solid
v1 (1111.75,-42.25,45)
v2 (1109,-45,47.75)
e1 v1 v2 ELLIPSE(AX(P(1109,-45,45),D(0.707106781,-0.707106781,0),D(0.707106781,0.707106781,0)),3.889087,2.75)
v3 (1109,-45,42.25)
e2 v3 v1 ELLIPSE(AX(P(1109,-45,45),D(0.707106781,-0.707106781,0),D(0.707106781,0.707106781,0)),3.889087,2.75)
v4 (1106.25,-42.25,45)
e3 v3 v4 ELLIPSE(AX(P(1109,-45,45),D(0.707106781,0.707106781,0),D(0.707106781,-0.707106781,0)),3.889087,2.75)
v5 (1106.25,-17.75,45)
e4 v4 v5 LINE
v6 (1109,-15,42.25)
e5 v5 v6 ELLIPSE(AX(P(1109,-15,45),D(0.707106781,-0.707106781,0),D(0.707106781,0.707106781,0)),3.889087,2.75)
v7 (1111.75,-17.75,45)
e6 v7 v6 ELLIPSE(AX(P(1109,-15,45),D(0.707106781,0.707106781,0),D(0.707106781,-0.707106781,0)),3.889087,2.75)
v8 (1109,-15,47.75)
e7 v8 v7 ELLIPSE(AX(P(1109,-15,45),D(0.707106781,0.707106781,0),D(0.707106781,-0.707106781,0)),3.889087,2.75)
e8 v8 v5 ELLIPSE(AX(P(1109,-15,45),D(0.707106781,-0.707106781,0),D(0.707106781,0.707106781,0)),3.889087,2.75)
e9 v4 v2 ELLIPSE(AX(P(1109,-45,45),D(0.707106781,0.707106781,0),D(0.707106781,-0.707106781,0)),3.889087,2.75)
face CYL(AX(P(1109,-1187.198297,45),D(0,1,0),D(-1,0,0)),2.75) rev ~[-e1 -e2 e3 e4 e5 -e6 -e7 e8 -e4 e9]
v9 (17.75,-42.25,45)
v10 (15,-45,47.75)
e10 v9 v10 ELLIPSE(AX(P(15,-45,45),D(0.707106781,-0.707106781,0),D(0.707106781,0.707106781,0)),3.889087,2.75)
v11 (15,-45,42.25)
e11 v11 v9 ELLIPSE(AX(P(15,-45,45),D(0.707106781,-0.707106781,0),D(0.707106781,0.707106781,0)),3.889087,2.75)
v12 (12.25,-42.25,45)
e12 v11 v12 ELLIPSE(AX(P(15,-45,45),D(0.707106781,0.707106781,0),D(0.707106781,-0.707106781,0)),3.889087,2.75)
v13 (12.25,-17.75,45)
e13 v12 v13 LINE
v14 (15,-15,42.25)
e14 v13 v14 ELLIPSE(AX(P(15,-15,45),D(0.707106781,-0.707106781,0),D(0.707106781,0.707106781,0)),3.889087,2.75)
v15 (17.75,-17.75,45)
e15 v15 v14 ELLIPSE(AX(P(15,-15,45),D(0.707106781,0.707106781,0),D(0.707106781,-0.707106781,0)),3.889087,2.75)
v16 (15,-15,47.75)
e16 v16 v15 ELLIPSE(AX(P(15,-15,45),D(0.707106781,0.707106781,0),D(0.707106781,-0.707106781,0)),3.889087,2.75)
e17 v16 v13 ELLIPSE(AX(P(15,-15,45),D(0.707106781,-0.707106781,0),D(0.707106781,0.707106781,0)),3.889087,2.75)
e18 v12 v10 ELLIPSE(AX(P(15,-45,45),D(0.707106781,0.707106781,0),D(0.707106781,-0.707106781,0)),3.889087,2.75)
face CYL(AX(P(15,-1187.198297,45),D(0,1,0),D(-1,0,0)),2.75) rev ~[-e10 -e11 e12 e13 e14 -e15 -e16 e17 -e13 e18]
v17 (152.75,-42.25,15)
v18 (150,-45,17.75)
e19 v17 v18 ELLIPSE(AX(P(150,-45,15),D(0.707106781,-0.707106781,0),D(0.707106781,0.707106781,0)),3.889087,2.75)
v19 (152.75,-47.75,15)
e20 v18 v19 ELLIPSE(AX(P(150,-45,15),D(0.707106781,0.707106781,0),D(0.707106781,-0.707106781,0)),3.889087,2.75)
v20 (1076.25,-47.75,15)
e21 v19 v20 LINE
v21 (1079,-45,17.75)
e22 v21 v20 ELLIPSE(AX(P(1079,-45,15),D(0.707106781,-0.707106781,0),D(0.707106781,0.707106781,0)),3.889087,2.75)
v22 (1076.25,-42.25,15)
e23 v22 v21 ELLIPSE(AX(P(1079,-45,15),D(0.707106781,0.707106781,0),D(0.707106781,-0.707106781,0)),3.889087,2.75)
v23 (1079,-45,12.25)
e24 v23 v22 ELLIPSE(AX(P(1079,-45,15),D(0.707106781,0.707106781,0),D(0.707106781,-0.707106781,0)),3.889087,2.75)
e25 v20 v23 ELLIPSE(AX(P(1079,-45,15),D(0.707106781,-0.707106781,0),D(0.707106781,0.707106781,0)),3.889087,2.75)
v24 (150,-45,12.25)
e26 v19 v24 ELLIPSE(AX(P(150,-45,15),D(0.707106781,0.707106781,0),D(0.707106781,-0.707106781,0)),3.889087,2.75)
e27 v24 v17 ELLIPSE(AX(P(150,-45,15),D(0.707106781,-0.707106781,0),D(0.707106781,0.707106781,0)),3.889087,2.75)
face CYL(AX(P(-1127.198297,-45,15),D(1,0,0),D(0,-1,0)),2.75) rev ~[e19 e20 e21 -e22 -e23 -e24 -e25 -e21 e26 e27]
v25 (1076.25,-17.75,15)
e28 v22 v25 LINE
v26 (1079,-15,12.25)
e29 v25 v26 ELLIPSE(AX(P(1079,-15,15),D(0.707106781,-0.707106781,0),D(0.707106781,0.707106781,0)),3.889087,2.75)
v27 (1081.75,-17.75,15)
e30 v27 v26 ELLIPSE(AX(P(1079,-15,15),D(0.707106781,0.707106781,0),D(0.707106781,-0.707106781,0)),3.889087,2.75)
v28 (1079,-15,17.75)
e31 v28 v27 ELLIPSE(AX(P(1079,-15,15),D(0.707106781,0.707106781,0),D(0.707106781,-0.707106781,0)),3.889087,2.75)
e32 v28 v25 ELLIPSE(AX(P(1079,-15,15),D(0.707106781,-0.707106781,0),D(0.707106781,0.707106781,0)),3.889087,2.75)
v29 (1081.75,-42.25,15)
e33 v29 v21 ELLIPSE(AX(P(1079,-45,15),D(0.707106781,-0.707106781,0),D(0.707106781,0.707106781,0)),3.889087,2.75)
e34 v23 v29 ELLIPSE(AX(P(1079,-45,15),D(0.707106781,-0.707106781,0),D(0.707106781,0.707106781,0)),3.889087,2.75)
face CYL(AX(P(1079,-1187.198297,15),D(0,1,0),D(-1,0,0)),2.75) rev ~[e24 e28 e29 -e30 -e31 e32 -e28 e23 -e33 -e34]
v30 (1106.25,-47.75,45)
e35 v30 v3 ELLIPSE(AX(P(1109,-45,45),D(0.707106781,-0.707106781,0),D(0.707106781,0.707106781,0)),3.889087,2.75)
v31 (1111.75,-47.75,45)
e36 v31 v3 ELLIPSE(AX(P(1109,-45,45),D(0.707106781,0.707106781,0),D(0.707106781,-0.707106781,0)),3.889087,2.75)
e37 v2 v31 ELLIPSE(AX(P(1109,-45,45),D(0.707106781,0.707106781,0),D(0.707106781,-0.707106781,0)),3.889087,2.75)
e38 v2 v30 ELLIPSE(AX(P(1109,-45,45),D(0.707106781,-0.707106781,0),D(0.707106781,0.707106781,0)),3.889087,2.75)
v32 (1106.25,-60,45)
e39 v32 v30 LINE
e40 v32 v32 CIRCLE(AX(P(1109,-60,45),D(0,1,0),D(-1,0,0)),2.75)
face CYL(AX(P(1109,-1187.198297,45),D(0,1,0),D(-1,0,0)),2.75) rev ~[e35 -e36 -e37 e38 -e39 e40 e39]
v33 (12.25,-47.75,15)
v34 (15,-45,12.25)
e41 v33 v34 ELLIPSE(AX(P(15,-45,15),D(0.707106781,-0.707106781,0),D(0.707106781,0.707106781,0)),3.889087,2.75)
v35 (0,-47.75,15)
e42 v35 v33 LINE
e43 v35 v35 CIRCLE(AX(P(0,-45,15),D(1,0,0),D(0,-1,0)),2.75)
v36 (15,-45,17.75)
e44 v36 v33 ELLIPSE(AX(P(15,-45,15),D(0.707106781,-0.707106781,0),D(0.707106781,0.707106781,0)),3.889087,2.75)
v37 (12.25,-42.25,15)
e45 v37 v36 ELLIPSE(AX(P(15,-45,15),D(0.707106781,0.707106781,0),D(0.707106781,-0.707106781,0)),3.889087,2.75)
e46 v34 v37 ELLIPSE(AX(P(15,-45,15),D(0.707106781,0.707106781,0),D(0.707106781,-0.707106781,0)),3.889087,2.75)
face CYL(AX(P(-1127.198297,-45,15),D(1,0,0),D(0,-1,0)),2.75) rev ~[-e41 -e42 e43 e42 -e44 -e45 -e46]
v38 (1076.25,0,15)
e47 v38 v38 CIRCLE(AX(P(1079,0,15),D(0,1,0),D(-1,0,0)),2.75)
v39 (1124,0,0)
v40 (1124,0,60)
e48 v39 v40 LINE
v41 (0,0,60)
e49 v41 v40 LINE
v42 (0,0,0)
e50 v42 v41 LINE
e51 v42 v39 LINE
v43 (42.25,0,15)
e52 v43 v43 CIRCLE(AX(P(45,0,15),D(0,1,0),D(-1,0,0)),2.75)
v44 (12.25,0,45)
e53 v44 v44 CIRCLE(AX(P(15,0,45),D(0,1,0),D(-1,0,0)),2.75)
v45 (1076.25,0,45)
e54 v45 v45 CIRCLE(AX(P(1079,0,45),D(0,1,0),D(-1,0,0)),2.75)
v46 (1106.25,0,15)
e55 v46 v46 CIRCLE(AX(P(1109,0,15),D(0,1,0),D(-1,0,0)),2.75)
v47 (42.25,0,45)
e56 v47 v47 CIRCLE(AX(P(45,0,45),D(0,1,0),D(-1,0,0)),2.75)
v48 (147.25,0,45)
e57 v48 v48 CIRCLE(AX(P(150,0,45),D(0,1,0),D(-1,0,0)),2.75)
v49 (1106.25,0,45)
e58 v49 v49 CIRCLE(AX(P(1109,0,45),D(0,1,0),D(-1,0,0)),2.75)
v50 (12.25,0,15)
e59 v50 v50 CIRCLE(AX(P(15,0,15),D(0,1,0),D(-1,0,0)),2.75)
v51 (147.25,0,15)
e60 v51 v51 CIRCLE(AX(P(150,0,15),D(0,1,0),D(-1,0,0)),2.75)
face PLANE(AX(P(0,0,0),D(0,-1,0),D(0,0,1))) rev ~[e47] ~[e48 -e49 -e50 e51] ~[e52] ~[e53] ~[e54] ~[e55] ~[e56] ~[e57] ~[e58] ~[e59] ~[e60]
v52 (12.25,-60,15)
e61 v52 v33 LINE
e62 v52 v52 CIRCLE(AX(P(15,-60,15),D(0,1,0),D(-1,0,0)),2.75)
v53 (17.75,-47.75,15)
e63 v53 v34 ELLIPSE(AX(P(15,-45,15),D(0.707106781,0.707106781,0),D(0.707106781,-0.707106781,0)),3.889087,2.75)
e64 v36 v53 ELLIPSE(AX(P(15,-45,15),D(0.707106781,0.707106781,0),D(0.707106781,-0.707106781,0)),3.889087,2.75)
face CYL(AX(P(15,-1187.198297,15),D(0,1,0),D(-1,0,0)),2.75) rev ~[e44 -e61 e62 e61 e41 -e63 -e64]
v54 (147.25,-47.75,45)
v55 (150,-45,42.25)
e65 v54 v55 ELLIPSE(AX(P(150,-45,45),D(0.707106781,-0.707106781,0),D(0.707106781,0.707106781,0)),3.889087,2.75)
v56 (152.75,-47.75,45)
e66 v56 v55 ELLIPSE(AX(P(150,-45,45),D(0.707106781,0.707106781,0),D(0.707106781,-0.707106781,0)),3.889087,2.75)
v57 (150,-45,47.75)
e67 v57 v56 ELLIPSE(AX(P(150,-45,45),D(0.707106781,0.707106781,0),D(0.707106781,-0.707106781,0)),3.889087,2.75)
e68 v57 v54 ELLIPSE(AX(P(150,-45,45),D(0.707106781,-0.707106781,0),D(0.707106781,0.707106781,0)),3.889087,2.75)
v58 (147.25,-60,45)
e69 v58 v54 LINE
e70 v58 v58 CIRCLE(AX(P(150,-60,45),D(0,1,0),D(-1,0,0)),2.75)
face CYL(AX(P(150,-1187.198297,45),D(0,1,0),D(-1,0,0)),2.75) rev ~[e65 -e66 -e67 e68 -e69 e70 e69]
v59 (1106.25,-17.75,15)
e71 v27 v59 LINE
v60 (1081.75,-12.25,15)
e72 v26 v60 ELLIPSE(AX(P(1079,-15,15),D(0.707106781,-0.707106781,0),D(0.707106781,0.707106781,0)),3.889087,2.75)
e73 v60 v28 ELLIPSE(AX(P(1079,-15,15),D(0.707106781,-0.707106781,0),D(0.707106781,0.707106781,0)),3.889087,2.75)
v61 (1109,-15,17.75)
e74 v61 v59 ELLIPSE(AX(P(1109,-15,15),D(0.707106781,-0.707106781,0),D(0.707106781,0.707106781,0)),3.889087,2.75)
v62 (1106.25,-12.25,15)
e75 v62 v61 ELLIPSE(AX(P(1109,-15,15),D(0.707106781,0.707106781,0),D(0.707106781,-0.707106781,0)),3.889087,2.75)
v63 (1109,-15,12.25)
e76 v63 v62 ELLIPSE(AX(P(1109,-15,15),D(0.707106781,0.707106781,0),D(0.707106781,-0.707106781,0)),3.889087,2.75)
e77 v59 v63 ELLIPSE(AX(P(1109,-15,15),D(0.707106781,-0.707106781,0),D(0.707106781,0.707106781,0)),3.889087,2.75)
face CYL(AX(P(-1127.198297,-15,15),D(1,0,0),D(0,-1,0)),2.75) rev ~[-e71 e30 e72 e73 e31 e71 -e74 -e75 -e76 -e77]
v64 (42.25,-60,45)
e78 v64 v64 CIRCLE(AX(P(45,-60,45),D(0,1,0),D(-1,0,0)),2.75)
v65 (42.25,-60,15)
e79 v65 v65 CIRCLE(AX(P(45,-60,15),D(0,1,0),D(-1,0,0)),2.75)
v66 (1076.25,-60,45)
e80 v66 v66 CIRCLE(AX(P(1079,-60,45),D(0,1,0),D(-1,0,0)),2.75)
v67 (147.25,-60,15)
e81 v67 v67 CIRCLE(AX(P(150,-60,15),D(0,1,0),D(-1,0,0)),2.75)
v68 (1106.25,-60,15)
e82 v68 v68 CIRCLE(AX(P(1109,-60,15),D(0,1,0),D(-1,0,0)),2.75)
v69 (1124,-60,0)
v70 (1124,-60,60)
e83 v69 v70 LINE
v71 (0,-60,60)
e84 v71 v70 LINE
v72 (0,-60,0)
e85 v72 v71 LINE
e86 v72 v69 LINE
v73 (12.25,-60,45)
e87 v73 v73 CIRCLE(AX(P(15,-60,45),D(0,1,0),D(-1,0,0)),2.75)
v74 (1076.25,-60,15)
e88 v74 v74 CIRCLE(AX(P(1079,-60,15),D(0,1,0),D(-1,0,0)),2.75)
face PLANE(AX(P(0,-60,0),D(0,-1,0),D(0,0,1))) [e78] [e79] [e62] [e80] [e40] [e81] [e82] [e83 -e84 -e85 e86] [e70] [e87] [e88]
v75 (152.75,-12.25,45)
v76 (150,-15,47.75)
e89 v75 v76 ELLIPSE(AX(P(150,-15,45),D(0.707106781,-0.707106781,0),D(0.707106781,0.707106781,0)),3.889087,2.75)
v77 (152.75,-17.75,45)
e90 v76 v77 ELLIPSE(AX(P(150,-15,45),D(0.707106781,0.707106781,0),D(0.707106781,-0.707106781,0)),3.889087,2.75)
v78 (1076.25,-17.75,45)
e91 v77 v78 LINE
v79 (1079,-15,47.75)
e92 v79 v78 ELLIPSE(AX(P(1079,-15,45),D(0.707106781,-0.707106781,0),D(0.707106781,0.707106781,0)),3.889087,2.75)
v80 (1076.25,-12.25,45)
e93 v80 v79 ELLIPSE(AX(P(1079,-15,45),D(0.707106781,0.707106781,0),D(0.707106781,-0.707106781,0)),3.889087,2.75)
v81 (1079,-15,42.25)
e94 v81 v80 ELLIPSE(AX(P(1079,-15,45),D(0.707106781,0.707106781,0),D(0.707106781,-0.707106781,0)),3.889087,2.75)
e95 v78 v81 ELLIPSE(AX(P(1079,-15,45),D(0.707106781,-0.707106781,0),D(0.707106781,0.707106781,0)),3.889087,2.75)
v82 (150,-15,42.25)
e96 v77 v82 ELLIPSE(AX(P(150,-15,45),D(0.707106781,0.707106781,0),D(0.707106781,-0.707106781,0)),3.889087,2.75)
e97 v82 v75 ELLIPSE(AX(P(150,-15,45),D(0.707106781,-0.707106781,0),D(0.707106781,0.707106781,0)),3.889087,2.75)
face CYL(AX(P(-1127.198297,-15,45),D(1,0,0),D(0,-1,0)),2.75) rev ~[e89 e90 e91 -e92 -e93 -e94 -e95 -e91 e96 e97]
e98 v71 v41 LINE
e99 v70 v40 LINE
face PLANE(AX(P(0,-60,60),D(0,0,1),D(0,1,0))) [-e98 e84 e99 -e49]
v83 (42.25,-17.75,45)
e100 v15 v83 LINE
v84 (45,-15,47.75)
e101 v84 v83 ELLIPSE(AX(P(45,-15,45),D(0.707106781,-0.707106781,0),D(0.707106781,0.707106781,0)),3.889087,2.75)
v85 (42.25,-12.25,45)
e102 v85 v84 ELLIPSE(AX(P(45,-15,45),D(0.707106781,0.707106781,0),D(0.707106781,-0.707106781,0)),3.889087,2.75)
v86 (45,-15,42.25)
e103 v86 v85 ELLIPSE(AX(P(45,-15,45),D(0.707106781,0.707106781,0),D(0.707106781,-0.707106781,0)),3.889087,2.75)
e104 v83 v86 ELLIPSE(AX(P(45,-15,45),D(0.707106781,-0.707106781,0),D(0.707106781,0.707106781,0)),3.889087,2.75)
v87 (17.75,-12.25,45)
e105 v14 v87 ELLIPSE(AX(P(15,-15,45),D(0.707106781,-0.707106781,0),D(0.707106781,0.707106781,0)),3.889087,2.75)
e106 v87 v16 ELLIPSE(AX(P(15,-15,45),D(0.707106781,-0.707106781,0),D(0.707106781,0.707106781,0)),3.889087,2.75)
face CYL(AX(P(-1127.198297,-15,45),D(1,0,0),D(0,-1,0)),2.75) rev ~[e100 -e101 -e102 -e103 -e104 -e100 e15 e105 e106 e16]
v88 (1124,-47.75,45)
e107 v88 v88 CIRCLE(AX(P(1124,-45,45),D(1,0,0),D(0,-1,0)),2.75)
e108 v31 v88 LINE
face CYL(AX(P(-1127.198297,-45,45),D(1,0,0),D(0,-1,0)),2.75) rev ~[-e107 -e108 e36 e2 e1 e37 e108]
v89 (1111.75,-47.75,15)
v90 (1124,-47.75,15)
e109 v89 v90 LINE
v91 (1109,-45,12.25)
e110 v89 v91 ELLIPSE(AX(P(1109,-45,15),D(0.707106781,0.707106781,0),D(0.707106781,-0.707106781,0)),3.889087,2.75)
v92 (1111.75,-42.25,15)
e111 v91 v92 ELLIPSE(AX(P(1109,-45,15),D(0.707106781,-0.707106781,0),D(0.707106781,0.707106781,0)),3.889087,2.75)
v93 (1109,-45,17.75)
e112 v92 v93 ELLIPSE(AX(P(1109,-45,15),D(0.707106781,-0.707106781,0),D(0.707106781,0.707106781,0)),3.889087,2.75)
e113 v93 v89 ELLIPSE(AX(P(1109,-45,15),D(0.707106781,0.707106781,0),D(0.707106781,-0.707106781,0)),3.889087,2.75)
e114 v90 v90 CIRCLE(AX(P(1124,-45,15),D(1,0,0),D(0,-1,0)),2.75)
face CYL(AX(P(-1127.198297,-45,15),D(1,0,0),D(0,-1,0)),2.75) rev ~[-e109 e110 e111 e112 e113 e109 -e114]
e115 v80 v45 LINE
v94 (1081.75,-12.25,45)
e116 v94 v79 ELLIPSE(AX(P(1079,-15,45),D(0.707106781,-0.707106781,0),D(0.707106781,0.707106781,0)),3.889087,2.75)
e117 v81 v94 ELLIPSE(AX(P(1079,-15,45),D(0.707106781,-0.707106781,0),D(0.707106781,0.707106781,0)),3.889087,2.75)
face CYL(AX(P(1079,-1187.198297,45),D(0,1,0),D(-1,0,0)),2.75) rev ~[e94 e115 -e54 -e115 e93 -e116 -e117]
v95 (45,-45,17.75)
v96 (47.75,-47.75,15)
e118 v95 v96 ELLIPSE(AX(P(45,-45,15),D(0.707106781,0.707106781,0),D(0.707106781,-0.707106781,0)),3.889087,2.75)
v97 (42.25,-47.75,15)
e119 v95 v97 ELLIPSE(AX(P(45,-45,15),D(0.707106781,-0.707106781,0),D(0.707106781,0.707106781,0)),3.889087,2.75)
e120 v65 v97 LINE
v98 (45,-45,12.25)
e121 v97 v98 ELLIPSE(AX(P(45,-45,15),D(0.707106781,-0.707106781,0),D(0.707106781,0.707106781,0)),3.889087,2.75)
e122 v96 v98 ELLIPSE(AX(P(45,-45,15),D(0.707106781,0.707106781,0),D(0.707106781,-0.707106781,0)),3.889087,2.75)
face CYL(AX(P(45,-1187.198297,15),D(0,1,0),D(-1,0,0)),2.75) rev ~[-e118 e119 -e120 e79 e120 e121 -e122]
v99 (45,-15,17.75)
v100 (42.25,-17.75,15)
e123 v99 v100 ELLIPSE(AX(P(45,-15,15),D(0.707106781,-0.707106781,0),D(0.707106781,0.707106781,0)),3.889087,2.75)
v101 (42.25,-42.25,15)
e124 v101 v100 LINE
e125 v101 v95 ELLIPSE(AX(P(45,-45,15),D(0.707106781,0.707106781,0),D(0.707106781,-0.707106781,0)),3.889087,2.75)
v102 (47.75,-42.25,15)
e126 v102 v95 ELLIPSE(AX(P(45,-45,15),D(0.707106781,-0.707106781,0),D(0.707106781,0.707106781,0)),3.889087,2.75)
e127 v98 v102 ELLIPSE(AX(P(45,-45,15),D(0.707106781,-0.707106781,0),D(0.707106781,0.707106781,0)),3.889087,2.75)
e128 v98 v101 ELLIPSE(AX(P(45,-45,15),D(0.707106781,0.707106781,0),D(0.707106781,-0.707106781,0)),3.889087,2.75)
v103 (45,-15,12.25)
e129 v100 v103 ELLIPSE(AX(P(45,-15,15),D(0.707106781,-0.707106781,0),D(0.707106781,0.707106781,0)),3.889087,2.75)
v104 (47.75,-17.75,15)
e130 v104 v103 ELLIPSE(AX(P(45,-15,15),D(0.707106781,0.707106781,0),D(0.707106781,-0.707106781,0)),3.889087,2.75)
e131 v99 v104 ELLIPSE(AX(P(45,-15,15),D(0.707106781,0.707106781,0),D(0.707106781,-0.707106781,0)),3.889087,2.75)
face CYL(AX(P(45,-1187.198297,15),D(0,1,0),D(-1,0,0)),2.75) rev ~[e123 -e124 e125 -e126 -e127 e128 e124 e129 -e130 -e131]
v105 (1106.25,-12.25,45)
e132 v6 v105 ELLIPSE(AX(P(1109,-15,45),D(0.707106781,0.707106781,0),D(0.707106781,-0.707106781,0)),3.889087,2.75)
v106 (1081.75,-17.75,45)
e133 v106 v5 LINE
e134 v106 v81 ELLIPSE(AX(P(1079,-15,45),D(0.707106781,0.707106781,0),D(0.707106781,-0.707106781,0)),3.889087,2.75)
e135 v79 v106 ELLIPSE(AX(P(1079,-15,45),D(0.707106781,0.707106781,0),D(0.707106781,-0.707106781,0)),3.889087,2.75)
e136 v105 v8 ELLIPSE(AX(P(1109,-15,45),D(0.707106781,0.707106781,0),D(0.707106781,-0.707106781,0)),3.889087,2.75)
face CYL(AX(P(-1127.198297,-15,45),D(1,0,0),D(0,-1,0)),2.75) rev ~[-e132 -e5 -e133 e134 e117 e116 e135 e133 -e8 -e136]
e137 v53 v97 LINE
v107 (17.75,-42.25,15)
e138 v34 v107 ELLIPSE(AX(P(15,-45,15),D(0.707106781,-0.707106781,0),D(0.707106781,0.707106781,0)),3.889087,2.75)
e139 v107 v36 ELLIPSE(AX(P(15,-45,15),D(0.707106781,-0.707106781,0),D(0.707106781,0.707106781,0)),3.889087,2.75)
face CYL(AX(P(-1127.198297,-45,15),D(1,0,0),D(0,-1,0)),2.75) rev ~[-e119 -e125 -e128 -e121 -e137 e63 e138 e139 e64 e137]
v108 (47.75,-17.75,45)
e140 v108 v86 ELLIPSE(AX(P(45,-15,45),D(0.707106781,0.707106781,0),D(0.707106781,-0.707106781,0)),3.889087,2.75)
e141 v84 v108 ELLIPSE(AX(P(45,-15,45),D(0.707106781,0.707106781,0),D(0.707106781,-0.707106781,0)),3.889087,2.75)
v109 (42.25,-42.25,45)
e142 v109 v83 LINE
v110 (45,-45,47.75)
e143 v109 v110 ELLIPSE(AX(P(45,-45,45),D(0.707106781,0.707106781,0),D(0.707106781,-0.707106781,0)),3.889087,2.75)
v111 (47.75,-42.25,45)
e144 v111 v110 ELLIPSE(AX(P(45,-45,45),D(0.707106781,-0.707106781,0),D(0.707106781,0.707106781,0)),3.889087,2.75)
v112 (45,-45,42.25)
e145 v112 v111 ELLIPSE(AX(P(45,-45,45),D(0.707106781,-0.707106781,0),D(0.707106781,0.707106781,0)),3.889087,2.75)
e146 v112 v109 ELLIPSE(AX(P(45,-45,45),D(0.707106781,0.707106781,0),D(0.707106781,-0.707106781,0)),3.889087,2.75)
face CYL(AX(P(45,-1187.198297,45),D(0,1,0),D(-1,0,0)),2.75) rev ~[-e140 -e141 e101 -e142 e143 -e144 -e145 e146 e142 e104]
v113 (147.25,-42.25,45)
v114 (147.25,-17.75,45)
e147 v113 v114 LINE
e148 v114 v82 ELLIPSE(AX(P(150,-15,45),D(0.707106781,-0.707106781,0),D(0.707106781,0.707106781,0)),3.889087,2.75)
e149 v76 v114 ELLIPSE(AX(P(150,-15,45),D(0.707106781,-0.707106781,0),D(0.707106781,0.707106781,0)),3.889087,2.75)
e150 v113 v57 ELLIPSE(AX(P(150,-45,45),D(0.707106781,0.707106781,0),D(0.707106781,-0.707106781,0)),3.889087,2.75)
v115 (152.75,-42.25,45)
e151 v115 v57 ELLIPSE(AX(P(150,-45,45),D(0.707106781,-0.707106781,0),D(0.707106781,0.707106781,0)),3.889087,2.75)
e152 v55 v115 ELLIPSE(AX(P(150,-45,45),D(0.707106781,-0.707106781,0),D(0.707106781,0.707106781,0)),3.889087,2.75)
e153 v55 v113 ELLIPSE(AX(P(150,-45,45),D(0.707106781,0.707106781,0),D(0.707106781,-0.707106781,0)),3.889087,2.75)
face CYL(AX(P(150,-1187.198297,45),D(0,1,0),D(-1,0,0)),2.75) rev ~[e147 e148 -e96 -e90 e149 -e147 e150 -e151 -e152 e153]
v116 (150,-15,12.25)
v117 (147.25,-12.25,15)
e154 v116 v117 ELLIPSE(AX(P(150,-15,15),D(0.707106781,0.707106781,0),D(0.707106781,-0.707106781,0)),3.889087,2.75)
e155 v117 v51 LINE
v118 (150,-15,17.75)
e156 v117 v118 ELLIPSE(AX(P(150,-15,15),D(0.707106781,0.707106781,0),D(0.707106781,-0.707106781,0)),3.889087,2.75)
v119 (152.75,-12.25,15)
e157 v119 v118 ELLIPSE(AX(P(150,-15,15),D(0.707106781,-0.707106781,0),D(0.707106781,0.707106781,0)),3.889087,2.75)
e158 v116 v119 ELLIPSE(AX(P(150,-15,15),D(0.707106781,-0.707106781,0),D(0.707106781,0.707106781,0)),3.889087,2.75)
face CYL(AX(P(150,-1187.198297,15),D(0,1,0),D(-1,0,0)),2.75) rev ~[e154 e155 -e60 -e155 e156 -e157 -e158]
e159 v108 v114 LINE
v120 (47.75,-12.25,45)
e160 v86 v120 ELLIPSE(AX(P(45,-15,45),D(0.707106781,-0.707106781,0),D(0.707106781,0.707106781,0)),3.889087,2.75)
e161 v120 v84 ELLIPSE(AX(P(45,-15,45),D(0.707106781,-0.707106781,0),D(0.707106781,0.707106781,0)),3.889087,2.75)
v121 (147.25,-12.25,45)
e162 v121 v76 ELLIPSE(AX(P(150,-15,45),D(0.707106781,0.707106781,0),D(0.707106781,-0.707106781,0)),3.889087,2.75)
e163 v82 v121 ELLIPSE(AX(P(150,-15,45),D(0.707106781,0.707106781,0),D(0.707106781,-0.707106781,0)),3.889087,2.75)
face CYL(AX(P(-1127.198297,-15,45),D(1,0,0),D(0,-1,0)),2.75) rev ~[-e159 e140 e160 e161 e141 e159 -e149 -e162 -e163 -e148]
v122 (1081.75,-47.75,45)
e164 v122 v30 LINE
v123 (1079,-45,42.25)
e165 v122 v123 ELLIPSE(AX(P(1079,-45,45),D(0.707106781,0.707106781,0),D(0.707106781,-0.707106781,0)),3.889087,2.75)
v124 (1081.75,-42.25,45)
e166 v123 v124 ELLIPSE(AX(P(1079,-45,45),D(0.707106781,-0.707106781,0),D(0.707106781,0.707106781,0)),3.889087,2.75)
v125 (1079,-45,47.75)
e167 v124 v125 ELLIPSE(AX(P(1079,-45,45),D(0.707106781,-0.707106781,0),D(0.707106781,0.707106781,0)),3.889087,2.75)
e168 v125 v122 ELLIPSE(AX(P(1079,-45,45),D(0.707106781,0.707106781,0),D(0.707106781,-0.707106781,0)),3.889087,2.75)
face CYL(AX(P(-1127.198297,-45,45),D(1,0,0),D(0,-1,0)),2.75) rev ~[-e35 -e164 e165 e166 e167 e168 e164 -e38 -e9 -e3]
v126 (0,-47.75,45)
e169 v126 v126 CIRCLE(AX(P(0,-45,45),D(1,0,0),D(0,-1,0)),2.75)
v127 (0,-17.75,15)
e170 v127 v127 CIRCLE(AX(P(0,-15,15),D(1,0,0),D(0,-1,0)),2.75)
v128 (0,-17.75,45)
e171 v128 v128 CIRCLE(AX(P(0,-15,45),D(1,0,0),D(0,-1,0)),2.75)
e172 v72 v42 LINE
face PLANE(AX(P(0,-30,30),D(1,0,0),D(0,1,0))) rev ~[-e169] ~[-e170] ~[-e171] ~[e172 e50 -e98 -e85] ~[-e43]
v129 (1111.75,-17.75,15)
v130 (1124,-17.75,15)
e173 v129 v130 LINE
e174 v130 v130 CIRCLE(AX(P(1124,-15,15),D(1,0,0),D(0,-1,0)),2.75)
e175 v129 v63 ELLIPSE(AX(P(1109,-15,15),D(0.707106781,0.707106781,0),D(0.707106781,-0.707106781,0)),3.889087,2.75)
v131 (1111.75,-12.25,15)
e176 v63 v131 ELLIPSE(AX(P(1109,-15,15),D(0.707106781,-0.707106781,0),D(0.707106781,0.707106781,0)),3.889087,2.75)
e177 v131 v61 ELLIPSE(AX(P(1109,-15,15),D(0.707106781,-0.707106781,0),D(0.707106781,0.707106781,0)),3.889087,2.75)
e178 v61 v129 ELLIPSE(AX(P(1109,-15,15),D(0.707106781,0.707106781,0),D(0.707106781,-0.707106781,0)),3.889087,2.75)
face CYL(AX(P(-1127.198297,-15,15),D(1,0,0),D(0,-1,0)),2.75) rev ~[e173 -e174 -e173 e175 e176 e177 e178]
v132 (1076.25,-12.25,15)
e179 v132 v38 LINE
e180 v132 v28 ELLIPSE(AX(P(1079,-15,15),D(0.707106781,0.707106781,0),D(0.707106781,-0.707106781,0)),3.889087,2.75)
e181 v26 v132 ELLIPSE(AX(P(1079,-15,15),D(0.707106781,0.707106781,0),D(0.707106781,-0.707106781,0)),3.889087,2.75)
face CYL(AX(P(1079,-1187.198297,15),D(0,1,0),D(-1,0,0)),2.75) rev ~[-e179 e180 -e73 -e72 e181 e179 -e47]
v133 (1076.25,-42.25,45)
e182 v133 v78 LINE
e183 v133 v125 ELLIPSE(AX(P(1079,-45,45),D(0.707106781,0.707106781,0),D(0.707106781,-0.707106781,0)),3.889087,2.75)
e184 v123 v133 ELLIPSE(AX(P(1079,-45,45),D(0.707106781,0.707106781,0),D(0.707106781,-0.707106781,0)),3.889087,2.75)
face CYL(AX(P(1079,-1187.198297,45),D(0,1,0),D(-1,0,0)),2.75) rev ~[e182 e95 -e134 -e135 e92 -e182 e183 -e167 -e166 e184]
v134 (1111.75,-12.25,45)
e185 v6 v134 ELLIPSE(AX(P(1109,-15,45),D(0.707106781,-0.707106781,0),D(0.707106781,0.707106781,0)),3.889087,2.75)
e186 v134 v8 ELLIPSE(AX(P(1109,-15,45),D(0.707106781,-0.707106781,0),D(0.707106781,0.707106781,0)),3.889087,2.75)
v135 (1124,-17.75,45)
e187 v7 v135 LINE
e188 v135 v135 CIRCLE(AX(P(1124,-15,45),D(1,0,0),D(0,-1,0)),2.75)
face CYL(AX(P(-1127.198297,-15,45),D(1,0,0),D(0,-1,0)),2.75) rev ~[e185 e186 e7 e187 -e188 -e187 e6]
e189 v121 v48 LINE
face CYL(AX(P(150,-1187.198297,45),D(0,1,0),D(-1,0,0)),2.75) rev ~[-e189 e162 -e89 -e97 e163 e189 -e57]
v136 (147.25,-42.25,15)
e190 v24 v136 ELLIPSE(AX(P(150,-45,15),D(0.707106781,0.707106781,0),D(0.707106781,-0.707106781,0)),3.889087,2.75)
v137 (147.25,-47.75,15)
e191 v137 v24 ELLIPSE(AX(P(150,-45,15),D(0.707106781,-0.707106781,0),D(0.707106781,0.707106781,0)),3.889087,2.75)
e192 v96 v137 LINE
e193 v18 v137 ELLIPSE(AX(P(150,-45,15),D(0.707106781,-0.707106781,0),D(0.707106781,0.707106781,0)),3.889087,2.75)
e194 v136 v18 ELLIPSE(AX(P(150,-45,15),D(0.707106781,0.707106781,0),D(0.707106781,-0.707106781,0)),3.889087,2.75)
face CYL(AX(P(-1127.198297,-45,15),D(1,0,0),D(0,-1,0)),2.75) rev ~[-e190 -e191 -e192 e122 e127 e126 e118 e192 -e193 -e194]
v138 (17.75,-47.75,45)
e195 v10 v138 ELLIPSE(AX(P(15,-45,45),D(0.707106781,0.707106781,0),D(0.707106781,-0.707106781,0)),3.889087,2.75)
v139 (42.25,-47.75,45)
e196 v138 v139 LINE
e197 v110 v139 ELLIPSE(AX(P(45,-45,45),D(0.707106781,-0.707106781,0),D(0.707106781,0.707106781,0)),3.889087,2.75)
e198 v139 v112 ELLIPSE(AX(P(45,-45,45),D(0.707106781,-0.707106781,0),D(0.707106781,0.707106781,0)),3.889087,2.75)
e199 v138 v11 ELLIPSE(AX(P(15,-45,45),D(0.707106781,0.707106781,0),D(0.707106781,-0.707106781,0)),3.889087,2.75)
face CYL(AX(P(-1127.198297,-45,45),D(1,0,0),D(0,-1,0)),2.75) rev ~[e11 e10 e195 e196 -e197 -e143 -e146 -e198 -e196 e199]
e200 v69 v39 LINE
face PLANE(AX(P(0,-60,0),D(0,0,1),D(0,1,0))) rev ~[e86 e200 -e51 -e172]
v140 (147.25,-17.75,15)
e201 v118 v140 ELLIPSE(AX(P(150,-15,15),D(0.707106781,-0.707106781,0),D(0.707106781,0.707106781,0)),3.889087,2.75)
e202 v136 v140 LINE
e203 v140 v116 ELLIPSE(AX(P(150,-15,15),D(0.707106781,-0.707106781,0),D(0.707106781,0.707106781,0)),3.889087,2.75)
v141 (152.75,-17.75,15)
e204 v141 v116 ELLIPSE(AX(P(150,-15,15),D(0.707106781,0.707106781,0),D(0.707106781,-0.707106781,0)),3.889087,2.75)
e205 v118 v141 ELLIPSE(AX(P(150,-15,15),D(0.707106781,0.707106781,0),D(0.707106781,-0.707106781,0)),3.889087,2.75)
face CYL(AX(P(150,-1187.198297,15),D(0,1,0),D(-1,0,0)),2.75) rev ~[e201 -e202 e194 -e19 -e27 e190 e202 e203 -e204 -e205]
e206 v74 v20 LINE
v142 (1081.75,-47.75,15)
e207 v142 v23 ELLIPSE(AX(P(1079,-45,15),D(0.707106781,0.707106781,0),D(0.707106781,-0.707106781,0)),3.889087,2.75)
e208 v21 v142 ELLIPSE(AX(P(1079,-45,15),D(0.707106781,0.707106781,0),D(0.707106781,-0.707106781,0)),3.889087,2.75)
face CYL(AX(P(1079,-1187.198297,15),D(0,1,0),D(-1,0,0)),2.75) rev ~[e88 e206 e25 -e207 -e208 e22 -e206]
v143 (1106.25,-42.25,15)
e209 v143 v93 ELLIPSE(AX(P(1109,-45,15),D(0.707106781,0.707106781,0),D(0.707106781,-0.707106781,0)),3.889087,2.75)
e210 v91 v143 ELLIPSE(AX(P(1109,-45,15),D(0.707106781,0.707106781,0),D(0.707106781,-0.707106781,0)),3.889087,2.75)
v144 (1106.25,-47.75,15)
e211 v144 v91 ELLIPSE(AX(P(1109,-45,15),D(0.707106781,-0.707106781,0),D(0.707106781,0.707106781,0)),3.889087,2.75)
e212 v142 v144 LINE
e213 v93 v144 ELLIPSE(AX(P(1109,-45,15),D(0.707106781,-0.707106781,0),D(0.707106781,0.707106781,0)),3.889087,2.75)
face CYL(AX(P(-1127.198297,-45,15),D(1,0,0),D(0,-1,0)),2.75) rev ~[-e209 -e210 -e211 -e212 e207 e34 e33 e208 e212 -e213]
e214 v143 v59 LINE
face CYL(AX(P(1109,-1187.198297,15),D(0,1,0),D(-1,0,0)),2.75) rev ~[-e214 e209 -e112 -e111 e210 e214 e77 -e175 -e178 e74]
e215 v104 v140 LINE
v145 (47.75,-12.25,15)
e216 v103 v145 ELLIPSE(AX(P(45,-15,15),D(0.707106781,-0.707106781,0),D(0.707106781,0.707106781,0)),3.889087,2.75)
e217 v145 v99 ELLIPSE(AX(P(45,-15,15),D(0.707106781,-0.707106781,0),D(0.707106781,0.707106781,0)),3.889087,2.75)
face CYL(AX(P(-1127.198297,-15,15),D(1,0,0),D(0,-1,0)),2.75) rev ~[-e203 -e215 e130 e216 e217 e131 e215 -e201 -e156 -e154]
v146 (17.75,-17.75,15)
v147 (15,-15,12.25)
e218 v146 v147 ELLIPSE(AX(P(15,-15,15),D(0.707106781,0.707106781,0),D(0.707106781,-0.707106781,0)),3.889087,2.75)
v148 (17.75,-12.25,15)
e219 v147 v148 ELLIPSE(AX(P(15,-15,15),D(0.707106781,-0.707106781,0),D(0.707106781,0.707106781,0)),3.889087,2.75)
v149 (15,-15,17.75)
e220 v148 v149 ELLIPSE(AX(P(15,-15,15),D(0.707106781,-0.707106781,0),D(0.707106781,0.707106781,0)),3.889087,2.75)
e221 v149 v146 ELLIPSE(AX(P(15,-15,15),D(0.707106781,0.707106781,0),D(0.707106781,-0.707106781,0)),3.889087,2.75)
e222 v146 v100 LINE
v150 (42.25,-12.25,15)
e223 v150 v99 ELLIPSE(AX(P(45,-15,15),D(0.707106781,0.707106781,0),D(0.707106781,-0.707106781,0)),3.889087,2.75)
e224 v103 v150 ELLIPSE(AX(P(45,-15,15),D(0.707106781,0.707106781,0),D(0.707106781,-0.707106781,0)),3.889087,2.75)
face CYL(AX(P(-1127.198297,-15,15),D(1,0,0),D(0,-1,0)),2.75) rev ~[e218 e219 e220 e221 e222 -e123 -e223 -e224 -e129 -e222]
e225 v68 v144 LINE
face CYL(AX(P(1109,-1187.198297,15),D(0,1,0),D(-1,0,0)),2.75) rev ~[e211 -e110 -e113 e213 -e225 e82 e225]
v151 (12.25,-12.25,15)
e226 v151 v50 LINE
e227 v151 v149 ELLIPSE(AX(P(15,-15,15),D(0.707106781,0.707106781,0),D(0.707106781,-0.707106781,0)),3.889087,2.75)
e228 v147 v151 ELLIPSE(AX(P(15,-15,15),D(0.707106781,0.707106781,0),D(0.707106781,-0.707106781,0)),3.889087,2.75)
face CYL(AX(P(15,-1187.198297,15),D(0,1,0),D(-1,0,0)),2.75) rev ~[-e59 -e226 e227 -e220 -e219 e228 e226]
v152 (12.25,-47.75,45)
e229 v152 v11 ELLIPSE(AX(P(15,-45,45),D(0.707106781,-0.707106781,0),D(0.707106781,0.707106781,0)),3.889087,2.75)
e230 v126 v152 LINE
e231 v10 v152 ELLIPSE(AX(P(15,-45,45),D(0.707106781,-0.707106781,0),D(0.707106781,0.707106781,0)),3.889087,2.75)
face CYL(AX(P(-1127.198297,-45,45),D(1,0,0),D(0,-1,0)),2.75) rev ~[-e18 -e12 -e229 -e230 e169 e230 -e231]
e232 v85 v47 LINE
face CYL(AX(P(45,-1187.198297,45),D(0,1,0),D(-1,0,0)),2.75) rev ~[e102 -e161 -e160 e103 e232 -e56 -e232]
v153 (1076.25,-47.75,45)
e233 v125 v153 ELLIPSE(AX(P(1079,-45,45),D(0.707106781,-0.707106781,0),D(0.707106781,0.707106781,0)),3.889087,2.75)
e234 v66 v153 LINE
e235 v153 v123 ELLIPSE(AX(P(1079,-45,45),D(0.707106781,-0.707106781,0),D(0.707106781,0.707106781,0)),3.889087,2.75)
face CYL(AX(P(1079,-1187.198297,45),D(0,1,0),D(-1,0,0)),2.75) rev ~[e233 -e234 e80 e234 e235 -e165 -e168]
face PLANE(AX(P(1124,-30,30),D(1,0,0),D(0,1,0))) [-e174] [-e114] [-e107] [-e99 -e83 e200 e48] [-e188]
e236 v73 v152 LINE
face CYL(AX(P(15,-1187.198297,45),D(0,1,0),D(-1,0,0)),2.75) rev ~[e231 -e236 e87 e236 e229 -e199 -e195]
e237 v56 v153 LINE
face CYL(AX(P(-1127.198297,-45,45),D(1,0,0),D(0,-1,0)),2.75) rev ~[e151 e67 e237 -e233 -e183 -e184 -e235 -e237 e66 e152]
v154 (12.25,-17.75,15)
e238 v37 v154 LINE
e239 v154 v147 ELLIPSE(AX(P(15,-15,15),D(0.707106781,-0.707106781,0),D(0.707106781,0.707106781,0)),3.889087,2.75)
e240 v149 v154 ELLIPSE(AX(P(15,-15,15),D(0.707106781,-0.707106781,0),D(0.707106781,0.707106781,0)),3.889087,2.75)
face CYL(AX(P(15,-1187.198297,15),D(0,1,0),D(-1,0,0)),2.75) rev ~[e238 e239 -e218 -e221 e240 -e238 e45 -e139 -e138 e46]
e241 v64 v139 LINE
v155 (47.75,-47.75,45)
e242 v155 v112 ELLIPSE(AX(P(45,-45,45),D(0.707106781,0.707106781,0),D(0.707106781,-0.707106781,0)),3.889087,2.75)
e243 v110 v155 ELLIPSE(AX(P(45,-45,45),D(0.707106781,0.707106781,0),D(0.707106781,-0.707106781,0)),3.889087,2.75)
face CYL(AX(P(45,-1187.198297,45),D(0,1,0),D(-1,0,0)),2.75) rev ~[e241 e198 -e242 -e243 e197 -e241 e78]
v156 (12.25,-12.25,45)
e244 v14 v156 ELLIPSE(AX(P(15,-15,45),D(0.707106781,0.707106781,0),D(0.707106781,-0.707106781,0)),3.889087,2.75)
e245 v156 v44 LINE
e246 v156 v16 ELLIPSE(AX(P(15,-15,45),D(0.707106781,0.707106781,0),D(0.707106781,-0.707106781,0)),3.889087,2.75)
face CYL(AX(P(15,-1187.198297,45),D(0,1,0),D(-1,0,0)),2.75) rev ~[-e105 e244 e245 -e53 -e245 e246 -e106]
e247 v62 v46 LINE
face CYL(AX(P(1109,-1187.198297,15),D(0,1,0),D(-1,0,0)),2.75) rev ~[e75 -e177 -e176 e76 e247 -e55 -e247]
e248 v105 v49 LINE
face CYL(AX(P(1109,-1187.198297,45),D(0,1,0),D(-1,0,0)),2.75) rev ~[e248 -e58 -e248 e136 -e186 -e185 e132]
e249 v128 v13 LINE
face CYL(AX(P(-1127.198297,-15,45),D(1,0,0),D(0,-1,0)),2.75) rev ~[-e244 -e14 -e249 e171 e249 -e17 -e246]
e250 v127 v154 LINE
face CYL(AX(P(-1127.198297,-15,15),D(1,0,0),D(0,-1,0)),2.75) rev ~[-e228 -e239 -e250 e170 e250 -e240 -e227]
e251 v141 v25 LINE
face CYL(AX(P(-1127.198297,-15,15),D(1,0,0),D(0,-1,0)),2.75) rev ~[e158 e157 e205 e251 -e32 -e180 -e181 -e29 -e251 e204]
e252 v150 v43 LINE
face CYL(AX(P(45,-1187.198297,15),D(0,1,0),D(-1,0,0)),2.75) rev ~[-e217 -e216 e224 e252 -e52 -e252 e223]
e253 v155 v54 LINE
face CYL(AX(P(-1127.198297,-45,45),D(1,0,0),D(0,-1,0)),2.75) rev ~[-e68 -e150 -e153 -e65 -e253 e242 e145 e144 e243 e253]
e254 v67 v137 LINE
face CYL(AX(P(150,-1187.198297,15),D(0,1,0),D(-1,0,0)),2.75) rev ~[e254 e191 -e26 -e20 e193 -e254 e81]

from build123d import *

# Parameters (mm, degrees)
F0_W     = 60
F0_H     = 60
F1_DEPTH = 1124
F2_D     = 5.5
F4_D     = 5.5
F5_D     = 5.5


with BuildPart() as f1:
    # F0 (on Right) → F1 (new body)
    with BuildSketch(Plane.YZ):
        with Locations((-30, 30)):
            Rectangle(F0_W, F0_H)
    extrude(amount=F1_DEPTH)

    # F2 (through all)
    with Locations(Plane(origin=(0, 0, 0), x_dir=(0, 1, 0), z_dir=(-1, 0, 0))):
        with Locations((-45, -45), (-45, -15), (-15, -15), (-15, -45)):
            Hole(F2_D / 2)

    # F4 (through all)
    with Locations(Plane.XZ.offset(60)):
        with Locations((150, 45), (150, 15)):
            Hole(F4_D / 2)

    # F5 (through all)
    with Locations(Plane.XZ.offset(60)):
        with Locations((45, 45), (15, 45), (15, 15), (45, 15), (1109, 45), (1079, 15), (1109, 15), (1079, 45)):
            Hole(F5_D / 2)


solid = f1.part
